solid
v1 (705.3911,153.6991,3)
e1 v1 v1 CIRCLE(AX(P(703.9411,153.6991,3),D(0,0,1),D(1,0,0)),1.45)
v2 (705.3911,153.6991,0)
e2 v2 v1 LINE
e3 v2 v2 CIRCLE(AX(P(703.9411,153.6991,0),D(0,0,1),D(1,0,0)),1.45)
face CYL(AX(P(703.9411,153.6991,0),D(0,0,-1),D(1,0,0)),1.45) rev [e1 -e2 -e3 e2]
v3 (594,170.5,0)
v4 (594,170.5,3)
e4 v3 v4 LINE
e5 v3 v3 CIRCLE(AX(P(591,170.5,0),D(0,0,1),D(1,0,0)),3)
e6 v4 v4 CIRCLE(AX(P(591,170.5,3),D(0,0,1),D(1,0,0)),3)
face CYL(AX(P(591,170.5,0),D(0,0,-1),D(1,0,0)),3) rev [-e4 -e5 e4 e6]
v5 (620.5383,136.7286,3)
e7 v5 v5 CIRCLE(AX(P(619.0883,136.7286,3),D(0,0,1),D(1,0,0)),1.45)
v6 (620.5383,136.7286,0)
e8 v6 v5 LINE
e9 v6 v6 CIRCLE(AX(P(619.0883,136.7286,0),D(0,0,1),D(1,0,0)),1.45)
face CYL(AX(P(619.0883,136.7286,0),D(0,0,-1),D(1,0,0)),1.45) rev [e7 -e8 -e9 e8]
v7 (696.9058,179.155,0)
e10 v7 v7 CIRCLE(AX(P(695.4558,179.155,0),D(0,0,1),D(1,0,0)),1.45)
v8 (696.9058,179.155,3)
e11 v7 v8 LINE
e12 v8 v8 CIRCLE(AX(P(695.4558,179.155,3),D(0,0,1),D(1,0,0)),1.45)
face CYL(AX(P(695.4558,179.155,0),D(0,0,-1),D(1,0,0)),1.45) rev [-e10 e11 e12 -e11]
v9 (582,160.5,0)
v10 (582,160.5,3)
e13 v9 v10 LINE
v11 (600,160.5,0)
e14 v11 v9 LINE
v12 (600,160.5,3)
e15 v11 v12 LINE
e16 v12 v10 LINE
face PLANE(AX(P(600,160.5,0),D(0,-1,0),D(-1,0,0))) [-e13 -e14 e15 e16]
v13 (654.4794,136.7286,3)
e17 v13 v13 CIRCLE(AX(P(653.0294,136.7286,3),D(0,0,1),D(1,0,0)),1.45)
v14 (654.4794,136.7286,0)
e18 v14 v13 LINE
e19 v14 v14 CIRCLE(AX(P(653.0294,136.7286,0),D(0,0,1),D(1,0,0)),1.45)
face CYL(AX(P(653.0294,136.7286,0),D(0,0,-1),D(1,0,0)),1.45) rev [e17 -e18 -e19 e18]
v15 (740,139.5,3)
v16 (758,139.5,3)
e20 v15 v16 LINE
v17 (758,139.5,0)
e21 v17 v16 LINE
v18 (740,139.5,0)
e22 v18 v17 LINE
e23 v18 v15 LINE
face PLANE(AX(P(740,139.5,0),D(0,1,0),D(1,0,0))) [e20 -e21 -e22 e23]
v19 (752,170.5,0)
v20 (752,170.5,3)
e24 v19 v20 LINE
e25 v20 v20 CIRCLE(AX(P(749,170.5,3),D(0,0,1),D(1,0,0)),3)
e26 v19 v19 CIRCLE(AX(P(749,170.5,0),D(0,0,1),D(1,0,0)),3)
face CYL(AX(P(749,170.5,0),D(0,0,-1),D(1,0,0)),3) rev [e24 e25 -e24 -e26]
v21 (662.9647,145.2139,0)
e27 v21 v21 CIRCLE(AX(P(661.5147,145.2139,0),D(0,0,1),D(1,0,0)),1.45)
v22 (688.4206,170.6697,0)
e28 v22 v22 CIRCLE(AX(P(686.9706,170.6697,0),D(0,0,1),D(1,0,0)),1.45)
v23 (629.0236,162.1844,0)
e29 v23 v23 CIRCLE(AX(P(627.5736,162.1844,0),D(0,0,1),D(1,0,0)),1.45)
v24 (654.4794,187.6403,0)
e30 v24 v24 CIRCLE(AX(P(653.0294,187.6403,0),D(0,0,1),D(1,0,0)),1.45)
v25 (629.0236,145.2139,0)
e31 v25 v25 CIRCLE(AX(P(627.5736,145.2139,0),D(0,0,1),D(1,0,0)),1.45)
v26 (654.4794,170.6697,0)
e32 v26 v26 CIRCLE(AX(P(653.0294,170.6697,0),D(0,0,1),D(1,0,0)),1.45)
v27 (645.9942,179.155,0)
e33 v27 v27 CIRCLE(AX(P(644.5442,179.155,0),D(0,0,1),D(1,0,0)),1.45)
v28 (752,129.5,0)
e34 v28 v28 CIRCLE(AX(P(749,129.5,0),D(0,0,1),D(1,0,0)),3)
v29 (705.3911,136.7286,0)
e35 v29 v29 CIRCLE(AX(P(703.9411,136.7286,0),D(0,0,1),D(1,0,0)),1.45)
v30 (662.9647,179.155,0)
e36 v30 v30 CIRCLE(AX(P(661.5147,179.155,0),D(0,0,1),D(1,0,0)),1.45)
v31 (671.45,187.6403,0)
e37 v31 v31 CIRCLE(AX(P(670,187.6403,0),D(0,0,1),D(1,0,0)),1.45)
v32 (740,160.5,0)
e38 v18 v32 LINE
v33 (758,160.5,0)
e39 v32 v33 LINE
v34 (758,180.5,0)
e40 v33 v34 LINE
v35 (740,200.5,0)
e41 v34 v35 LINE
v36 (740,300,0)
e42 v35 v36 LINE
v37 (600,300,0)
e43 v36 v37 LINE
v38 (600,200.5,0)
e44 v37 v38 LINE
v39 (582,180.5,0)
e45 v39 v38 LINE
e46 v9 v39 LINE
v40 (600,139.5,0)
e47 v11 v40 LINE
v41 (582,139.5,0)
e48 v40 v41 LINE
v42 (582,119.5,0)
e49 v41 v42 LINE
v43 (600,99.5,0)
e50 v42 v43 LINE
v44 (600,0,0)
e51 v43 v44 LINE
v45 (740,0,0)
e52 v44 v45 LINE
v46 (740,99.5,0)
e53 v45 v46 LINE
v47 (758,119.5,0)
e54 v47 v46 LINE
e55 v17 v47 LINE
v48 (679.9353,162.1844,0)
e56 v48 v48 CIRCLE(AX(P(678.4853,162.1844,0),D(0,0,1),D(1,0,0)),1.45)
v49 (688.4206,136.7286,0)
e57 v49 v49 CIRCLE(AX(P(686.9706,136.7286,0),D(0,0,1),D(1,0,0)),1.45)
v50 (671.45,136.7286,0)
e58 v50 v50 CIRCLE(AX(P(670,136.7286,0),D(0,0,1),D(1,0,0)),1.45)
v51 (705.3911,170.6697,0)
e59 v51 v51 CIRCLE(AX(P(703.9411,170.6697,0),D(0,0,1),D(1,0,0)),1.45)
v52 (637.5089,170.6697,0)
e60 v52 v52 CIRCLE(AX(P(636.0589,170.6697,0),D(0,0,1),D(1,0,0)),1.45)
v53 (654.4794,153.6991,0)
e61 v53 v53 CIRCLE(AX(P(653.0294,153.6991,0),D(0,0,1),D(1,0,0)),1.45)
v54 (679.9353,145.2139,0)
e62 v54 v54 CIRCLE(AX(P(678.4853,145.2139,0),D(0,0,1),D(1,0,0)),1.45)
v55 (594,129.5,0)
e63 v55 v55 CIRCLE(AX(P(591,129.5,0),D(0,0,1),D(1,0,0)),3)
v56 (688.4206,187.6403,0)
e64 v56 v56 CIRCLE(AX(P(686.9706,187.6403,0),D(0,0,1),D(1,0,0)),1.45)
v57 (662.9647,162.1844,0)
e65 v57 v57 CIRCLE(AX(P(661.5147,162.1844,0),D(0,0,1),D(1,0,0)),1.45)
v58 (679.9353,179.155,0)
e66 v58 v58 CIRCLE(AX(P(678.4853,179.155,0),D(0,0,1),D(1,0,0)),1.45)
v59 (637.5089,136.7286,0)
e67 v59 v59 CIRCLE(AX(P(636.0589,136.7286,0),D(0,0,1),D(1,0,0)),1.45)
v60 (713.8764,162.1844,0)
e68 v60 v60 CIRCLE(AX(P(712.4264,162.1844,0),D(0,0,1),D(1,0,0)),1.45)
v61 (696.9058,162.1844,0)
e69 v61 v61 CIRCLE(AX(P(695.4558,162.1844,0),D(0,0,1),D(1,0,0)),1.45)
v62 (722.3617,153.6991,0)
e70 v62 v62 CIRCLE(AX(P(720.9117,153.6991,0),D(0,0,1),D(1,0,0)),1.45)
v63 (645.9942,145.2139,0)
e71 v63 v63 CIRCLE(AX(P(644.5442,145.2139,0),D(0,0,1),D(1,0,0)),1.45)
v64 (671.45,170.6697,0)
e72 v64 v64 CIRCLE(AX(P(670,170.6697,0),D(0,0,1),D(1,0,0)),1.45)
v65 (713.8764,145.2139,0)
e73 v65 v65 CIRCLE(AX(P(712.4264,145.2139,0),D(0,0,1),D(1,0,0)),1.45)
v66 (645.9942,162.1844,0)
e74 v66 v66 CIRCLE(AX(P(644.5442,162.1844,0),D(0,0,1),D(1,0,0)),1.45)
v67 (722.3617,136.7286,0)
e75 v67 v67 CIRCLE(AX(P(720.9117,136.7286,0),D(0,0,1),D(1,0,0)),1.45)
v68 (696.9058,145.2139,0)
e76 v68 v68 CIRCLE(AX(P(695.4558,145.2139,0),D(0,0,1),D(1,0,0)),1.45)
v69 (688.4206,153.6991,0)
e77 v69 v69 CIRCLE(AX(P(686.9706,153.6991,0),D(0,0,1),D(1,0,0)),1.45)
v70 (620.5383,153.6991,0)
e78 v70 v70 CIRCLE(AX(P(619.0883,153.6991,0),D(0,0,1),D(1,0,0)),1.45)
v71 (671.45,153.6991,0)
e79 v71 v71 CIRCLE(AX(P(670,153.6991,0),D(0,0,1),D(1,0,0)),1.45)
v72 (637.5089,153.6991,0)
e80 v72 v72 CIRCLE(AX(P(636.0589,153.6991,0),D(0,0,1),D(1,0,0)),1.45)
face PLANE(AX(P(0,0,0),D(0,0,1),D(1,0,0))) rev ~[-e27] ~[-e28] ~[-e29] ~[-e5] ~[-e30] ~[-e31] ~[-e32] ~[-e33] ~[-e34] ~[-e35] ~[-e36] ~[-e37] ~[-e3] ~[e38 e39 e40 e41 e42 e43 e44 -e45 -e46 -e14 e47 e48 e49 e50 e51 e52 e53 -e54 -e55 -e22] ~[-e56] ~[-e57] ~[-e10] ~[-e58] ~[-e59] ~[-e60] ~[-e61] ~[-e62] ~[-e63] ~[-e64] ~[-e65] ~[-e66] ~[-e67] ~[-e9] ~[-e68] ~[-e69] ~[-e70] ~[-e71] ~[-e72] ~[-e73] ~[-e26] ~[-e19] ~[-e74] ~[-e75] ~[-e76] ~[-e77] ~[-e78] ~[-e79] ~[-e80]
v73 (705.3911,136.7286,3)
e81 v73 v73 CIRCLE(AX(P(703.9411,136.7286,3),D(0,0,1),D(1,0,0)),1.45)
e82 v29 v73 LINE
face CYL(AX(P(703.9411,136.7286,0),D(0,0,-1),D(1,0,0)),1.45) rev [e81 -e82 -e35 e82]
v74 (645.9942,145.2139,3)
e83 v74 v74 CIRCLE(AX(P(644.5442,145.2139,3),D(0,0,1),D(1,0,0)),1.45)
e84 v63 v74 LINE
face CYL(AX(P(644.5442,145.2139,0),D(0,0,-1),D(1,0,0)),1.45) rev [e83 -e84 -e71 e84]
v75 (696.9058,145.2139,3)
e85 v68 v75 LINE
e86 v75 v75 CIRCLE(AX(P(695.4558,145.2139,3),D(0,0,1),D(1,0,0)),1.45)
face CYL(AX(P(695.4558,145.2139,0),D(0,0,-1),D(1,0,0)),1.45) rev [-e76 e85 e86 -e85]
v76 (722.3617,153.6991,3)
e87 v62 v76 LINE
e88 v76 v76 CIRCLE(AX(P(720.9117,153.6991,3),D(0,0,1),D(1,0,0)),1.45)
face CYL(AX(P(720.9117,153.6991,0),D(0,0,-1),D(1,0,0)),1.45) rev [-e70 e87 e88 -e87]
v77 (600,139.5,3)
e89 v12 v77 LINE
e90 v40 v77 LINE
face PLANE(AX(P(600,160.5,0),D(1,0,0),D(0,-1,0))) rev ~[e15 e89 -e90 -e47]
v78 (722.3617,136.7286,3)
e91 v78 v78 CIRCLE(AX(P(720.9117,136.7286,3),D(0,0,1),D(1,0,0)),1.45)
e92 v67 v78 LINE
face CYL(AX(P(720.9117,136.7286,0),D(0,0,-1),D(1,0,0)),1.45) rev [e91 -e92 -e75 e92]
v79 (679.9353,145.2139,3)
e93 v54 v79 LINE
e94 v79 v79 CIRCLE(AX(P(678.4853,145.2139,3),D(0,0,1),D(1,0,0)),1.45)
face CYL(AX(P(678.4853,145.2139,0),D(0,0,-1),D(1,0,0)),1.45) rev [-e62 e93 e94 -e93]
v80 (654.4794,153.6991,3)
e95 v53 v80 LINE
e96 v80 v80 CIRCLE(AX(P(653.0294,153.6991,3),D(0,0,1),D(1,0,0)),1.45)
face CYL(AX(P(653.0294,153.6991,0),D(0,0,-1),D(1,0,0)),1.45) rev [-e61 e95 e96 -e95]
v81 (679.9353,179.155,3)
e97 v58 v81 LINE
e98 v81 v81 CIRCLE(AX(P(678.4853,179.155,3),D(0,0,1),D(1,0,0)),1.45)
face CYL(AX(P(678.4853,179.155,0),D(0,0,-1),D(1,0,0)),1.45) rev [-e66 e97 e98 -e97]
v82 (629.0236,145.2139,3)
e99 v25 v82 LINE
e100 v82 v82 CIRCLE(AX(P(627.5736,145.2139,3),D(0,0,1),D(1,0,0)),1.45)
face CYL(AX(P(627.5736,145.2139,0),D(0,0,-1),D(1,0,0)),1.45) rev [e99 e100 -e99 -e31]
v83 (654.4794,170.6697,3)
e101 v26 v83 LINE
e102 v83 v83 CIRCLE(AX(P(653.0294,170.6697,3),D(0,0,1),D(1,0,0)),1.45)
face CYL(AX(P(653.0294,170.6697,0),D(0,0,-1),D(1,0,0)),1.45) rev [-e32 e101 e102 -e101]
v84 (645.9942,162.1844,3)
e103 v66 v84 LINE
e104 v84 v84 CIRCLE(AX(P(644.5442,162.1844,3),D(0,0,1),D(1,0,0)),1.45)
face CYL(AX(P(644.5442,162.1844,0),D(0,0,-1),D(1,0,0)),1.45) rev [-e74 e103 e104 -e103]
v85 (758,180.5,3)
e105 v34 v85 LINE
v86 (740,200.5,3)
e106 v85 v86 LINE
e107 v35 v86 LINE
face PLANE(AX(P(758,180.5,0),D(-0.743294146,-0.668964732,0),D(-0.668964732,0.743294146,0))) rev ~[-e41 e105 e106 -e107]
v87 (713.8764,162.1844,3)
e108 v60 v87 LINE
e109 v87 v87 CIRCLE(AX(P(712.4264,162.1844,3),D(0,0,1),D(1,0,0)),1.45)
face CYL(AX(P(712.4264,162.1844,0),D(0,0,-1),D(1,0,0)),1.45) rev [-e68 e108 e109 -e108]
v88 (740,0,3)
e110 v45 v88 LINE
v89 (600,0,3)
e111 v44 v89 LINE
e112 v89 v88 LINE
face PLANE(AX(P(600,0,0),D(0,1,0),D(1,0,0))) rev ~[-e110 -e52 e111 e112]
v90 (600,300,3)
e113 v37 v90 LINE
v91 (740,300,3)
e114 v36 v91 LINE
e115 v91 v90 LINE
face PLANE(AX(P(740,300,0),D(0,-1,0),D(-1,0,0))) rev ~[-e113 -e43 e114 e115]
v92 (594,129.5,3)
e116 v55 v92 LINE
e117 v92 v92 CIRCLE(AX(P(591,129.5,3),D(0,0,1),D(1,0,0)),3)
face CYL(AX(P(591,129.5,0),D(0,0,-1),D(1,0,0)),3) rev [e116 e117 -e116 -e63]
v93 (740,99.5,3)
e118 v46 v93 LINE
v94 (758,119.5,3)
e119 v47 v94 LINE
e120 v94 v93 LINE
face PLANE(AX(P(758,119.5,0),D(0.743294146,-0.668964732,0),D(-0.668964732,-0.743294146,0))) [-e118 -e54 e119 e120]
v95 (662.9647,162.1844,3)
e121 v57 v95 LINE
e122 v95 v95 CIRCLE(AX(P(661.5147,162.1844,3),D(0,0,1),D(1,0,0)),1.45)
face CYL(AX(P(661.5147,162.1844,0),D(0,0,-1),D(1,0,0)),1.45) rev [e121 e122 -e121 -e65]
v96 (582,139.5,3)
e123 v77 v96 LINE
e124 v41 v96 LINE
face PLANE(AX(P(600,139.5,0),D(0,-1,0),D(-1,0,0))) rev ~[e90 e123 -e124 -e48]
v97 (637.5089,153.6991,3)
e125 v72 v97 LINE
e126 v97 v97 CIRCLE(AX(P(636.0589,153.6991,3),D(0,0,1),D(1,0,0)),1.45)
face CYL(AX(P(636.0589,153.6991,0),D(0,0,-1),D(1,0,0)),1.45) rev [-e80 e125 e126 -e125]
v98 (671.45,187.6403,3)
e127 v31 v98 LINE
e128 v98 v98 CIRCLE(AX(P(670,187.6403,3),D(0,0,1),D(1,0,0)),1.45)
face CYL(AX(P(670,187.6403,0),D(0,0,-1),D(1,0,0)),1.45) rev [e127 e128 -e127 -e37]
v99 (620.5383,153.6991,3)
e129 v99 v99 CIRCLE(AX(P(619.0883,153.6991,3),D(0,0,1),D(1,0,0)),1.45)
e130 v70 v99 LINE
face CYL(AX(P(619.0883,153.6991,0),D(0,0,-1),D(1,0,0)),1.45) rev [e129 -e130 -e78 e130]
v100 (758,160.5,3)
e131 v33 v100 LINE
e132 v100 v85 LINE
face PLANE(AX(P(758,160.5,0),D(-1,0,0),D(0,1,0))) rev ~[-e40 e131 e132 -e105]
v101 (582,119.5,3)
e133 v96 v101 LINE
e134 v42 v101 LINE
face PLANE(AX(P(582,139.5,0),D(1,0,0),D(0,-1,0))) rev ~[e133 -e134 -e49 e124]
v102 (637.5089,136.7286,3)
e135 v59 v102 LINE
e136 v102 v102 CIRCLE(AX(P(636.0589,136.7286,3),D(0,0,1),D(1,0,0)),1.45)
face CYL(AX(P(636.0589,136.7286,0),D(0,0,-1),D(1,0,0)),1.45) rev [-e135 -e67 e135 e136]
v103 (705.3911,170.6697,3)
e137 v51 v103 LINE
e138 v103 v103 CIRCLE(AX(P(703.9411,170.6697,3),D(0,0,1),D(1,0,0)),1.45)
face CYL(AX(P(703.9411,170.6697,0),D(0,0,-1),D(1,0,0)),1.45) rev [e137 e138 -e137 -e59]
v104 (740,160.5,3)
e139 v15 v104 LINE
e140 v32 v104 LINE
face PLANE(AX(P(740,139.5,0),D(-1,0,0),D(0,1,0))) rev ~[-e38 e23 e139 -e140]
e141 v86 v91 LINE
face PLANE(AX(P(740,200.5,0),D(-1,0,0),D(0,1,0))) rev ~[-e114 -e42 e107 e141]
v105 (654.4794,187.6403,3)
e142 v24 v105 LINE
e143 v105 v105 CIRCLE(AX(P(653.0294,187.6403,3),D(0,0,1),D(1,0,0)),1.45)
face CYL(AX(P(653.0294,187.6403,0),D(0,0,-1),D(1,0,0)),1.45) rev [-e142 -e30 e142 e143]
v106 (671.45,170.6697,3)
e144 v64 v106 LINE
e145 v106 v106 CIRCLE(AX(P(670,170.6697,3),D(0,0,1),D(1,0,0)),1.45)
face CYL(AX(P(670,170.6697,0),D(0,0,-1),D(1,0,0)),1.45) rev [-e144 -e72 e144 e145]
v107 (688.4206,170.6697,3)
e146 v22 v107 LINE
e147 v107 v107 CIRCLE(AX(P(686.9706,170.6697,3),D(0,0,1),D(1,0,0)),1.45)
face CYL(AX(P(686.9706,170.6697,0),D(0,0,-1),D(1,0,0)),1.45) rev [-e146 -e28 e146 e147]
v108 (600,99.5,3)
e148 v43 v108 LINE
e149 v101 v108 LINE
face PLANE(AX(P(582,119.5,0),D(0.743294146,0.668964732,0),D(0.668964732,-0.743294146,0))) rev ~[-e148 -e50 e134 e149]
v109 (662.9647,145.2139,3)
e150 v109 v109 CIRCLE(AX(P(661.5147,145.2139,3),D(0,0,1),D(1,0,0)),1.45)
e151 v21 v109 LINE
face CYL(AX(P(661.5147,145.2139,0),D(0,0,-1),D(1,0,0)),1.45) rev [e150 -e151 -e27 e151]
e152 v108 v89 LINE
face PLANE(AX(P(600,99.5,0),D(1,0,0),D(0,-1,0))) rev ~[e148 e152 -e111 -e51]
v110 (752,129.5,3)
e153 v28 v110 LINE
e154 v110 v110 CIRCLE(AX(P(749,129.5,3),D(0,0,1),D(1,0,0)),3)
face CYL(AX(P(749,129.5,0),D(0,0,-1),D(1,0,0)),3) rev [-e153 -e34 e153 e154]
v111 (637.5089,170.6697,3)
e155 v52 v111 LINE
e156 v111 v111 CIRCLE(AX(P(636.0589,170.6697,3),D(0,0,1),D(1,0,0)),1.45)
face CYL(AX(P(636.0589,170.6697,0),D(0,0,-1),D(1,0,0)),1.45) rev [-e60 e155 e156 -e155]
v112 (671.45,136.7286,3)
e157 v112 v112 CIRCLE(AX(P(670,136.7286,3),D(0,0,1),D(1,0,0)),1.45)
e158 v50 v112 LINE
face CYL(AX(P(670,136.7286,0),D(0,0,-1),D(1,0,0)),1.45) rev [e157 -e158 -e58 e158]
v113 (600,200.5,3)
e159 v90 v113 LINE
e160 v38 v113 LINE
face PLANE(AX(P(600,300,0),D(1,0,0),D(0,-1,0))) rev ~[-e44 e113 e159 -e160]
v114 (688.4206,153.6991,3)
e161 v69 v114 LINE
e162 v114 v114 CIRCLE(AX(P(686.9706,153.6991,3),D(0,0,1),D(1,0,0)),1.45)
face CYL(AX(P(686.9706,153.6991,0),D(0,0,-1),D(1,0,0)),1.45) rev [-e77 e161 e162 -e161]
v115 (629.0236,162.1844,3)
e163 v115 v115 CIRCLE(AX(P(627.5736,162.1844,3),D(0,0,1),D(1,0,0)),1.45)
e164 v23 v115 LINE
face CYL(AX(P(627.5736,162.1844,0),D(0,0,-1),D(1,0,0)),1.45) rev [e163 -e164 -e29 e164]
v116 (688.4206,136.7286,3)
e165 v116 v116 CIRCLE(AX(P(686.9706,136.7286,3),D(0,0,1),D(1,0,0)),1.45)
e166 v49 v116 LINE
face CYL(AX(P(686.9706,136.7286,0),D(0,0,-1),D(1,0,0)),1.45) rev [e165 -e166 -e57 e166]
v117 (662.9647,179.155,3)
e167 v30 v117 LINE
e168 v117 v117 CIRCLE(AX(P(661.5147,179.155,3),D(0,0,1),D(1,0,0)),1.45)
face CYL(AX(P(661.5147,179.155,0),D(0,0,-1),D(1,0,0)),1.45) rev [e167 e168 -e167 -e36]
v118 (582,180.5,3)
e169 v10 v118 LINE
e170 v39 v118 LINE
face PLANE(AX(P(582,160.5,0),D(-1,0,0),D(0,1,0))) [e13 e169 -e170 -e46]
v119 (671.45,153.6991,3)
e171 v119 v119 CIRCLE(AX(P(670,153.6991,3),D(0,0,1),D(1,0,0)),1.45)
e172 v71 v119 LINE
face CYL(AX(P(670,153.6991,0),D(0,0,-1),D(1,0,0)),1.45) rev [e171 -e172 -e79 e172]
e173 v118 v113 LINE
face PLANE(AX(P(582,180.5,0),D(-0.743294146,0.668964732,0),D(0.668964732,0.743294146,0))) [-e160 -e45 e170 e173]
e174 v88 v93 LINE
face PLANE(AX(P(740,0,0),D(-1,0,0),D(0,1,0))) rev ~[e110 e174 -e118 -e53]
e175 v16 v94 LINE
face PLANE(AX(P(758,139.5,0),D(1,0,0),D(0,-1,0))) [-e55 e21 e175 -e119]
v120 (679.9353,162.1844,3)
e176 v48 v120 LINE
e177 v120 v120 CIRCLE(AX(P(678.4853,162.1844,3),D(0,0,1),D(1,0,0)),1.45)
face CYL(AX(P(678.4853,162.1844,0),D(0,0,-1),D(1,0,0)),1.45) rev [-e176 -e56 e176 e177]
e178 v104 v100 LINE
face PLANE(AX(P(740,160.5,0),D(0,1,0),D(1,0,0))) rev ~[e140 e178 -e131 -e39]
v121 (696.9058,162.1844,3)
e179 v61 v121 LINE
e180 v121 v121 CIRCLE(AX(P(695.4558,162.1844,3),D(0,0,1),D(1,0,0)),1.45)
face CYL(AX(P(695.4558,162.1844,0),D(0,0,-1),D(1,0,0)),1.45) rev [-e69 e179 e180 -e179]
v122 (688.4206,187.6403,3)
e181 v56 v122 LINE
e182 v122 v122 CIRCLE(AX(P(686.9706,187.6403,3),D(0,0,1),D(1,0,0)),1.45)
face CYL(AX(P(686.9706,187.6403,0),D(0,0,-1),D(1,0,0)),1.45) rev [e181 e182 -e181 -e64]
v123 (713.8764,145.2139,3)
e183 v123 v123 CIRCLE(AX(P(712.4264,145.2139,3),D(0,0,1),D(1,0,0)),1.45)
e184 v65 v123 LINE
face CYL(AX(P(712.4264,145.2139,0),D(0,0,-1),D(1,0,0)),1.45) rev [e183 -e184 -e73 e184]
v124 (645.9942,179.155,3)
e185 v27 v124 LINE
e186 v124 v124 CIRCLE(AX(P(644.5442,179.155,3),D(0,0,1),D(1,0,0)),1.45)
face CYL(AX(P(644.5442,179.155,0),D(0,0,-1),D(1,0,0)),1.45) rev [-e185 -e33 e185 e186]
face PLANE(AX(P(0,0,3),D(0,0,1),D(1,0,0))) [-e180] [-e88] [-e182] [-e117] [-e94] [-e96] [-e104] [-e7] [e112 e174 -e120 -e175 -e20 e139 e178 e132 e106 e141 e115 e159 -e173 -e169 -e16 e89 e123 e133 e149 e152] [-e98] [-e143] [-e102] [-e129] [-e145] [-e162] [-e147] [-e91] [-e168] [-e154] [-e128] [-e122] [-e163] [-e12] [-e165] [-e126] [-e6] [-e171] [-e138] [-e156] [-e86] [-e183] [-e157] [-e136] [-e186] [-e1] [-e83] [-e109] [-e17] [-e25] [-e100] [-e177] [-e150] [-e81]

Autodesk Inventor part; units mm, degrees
ref_plane "YZ Plane" through (0, 0, 0) normal (1, 0, 0) x (0, 1, 0)
ref_plane "XZ Plane" through (0, 0, 0) normal (0, 1, 0) x (-1, 0, 0)
ref_plane "XY Plane" through (0, 0, 0) normal (0, 0, 1) x (1, 0, 0)
sketch "Sketch1" plane through (0, 0, 0) normal (0, 0, 1) x (1, 0, 0)
  line L0 (0, 0) -> (140, 0)
  line L1 (140, 0) -> (140, 300)
  line L2 (140, 300) -> (0, 300)
  line L3 (0, 300) -> (0, 0)
  line L4 (10, 290) -> (130, 290)
  line L5 (130, 290) -> (130, 10) construction
  line L6 (130, 10) -> (10, 10) construction
  line L7 (10, 10) -> (10, 290) construction
  line L8 (55.013, 210.0189) -> (44.1329, 210.0189) construction
  line L9 (10, 290) -> (130, 290) construction
  line L10 (70, 311.1686) -> (70, 319.6965) construction
  line L11 (64.8975, 210.0189) -> (64.8975, 204.1374) construction
  line L12 (75.1025, 210.0189) -> (75.1025, 204.1374) construction
  spline S0 degree 4 poles (64.8975, 210.0189) (64.8975, 218.5538) (47.6053, 225.9043) (40.8111, 229.8746) (18.3339, 245.7556) (11.7937, 258.2232) (10, 279.3922) (10, 290) knots 0 0 0 0 0 0.284812 0.471394 0.66948 1 1 1 1 1
  line L13 (10, 290) -> (10, 266.9306) construction
  spline S1 degree 4 poles (75.1025, 210.0189) (75.1025, 218.5538) (92.3947, 225.9043) (99.1889, 229.8746) (121.6661, 245.7556) (128.2063, 258.2232) (130, 279.3922) (130, 290) knots 0 0 0 0 0 0.284812 0.471394 0.66948 1 1 1 1 1
  spline S2 degree 4 poles (64.8975, 210.0189) (64.8975, 201.4839) (47.6053, 194.1334) (40.8111, 190.1632) (18.3339, 174.2821) (11.7937, 161.8145) (10, 140.6455) (10, 130.0377) knots 0 0 0 0 0 0.284812 0.471394 0.66948 1 1 1 1 1
  spline S3 degree 4 poles (75.1025, 210.0189) (75.1025, 201.4839) (92.3947, 194.1334) (99.1889, 190.1632) (121.6661, 174.2821) (128.2063, 161.8145) (130, 140.6455) (130, 130.0377) knots 0 0 0 0 0 0.284812 0.471394 0.66948 1 1 1 1 1
  line L14 (10, 130.0377) -> (10, 10)
  line L15 (130, 130.0377) -> (130, 10)
  line L16 (10, 10) -> (130, 10)
  line L17 (240, 186.8124) -> (240, 163.5372) construction
  line L18 (480, 0) -> (340, 0) construction
  line L19 (340, 0) -> (340, 300) construction
  line L20 (340, 300) -> (480, 300) construction
  line L21 (480, 300) -> (480, 0) construction
  line L22 (470, 290) -> (350, 290) construction
  line L23 (350, 290) -> (350, 10) construction
  line L24 (350, 10) -> (470, 10) construction
  line L25 (470, 10) -> (470, 290) construction
  line L26 (424.987, 210.0189) -> (435.8671, 210.0189) construction
  line L27 (470, 290) -> (350, 290) construction
  line L28 (410, 311.1686) -> (410, 319.6965) construction
  line L29 (415.1025, 210.0189) -> (415.1025, 204.1374) construction
  line L30 (404.8975, 210.0189) -> (404.8975, 204.1374) construction
  spline S4 degree 4 poles (415.1025, 210.0189) (415.1025, 218.5538) (432.3947, 225.9043) (439.1889, 229.8746) (461.6661, 245.7556) (468.2063, 258.2232) (470, 279.3922) (470, 290) knots 0 0 0 0 0 0.284812 0.471394 0.66948 1 1 1 1 1 construction
  line L31 (470, 290) -> (470, 266.9306) construction
  spline S5 degree 4 poles (404.8975, 210.0189) (394.814, 224.8509) (381.6315, 227.4313) (352.9317, 245.1456) (350.4567, 267.2032) (350, 290) knots 0 0 0 0 0 0.471394 1 1 1 1 1 construction
  spline S6 degree 4 poles (415.1025, 210.0189) (425.186, 195.1868) (438.3685, 192.6065) (467.0683, 174.8921) (469.5433, 152.8345) (470, 130.0377) knots 0 0 0 0 0 0.471394 1 1 1 1 1 construction
  spline S7 degree 4 poles (404.8975, 210.0189) (394.814, 195.1868) (381.6315, 192.6065) (352.9317, 174.8921) (350.4567, 152.8345) (350, 130.0377) knots 0 0 0 0 0 0.471394 1 1 1 1 1 construction
  line L32 (355, 14.5) -> (355, 130.0377)
  line L33 (355, 130.0377) -> (357, 130.0377)
  line L34 (357, 130.0377) -> (357, 14.5)
  arc A0 (353.5, 13) -> (355, 14.5) centre (353.5, 14.5) ccw
  arc A1 (351, 14.5) -> (352.5, 13) centre (352.5, 14.5) ccw construction
  line L35 (352.5, 13) -> (353.5, 13)
  arc A2 (357, 14.5) -> (358.5, 13) centre (358.5, 14.5) ccw
  line L36 (358.5, 13) -> (359.5, 13)
  line L37 (361, 14.5) -> (361, 130.0377)
  line L38 (363, 130.0377) -> (363, 14.5)
  arc A3 (359.5, 13) -> (361, 14.5) centre (359.5, 14.5) ccw
  line L39 (361, 130.0377) -> (363, 130.0377)
  arc A4 (363, 14.5) -> (364.5, 13) centre (364.5, 14.5) ccw
  line L40 (364.5, 13) -> (365.5, 13)
  line L41 (367, 14.5) -> (367, 130.0377)
  line L42 (369, 130.0377) -> (369, 14.5)
  arc A5 (365.5, 13) -> (367, 14.5) centre (365.5, 14.5) ccw
  line L43 (367, 130.0377) -> (369, 130.0377)
  arc A6 (369, 14.5) -> (370.5, 13) centre (370.5, 14.5) ccw
  line L44 (370.5, 13) -> (371.5, 13)
  line L45 (373, 14.5) -> (373, 130.0377)
  line L46 (375, 130.0377) -> (375, 14.5)
  arc A7 (371.5, 13) -> (373, 14.5) centre (371.5, 14.5) ccw
  line L47 (373, 130.0377) -> (375, 130.0377)
  arc A8 (375, 14.5) -> (376.5, 13) centre (376.5, 14.5) ccw
  line L48 (376.5, 13) -> (377.5, 13)
  line L49 (379, 14.5) -> (379, 130.0377)
  line L50 (381, 130.0377) -> (381, 14.5)
  arc A9 (377.5, 13) -> (379, 14.5) centre (377.5, 14.5) ccw
  line L51 (379, 130.0377) -> (381, 130.0377)
  arc A10 (381, 14.5) -> (382.5, 13) centre (382.5, 14.5) ccw
  line L52 (382.5, 13) -> (383.5, 13)
  line L53 (385, 14.5) -> (385, 130.0377)
  line L54 (387, 130.0377) -> (387, 14.5)
  arc A11 (383.5, 13) -> (385, 14.5) centre (383.5, 14.5) ccw
  line L55 (385, 130.0377) -> (387, 130.0377)
  arc A12 (387, 14.5) -> (388.5, 13) centre (388.5, 14.5) ccw
  line L56 (388.5, 13) -> (389.5, 13)
  line L57 (391, 14.5) -> (391, 130.0377)
  line L58 (393, 130.0377) -> (393, 14.5)
  arc A13 (389.5, 13) -> (391, 14.5) centre (389.5, 14.5) ccw
  line L59 (391, 130.0377) -> (393, 130.0377)
  arc A14 (393, 14.5) -> (394.5, 13) centre (394.5, 14.5) ccw
  line L60 (394.5, 13) -> (395.5, 13)
  line L61 (397, 14.5) -> (397, 130.0377)
  line L62 (399, 130.0377) -> (399, 14.5)
  arc A15 (395.5, 13) -> (397, 14.5) centre (395.5, 14.5) ccw
  line L63 (397, 130.0377) -> (399, 130.0377)
  arc A16 (399, 14.5) -> (400.5, 13) centre (400.5, 14.5) ccw
  line L64 (400.5, 13) -> (401.5, 13)
  line L65 (403, 14.5) -> (403, 130.0377)
  line L66 (405, 130.0377) -> (405, 14.5)
  arc A17 (401.5, 13) -> (403, 14.5) centre (401.5, 14.5) ccw
  line L67 (403, 130.0377) -> (405, 130.0377)
  arc A18 (405, 14.5) -> (406.5, 13) centre (406.5, 14.5) ccw
  line L68 (406.5, 13) -> (407.5, 13)
  line L69 (409, 14.5) -> (409, 130.0377)
  line L70 (411, 130.0377) -> (411, 14.5)
  arc A19 (407.5, 13) -> (409, 14.5) centre (407.5, 14.5) ccw
  line L71 (409, 130.0377) -> (411, 130.0377)
  arc A20 (411, 14.5) -> (412.5, 13) centre (412.5, 14.5) ccw
  line L72 (412.5, 13) -> (413.5, 13)
  line L73 (415, 14.5) -> (415, 130.0377)
  line L74 (417, 130.0377) -> (417, 14.5)
  arc A21 (413.5, 13) -> (415, 14.5) centre (413.5, 14.5) ccw
  line L75 (415, 130.0377) -> (417, 130.0377)
  arc A22 (417, 14.5) -> (418.5, 13) centre (418.5, 14.5) ccw
  line L76 (418.5, 13) -> (419.5, 13)
  line L77 (421, 14.5) -> (421, 130.0377)
  line L78 (423, 130.0377) -> (423, 14.5)
  arc A23 (419.5, 13) -> (421, 14.5) centre (419.5, 14.5) ccw
  line L79 (421, 130.0377) -> (423, 130.0377)
  arc A24 (423, 14.5) -> (424.5, 13) centre (424.5, 14.5) ccw
  line L80 (424.5, 13) -> (425.5, 13)
  line L81 (427, 14.5) -> (427, 130.0377)
  line L82 (429, 130.0377) -> (429, 14.5)
  arc A25 (425.5, 13) -> (427, 14.5) centre (425.5, 14.5) ccw
  line L83 (427, 130.0377) -> (429, 130.0377)
  arc A26 (429, 14.5) -> (430.5, 13) centre (430.5, 14.5) ccw
  line L84 (430.5, 13) -> (431.5, 13)
  line L85 (433, 14.5) -> (433, 130.0377)
  line L86 (435, 130.0377) -> (435, 14.5)
  arc A27 (431.5, 13) -> (433, 14.5) centre (431.5, 14.5) ccw
  line L87 (433, 130.0377) -> (435, 130.0377)
  arc A28 (435, 14.5) -> (436.5, 13) centre (436.5, 14.5) ccw
  line L88 (436.5, 13) -> (437.5, 13)
  line L89 (439, 14.5) -> (439, 130.0377)
  line L90 (441, 130.0377) -> (441, 14.5)
  arc A29 (437.5, 13) -> (439, 14.5) centre (437.5, 14.5) ccw
  line L91 (439, 130.0377) -> (441, 130.0377)
  arc A30 (441, 14.5) -> (442.5, 13) centre (442.5, 14.5) ccw
  line L92 (442.5, 13) -> (443.5, 13)
  line L93 (445, 14.5) -> (445, 130.0377)
  line L94 (447, 130.0377) -> (447, 14.5)
  arc A31 (443.5, 13) -> (445, 14.5) centre (443.5, 14.5) ccw
  line L95 (445, 130.0377) -> (447, 130.0377)
  arc A32 (447, 14.5) -> (448.5, 13) centre (448.5, 14.5) ccw
  line L96 (448.5, 13) -> (449.5, 13)
  line L97 (451, 14.5) -> (451, 130.0377)
  line L98 (453, 130.0377) -> (453, 14.5)
  arc A33 (449.5, 13) -> (451, 14.5) centre (449.5, 14.5) ccw
  line L99 (451, 130.0377) -> (453, 130.0377)
  arc A34 (453, 14.5) -> (454.5, 13) centre (454.5, 14.5) ccw
  line L100 (454.5, 13) -> (455.5, 13)
  line L101 (457, 14.5) -> (457, 130.0377)
  line L102 (459, 130.0377) -> (459, 14.5)
  arc A35 (455.5, 13) -> (457, 14.5) centre (455.5, 14.5) ccw
  line L103 (457, 130.0377) -> (459, 130.0377)
  arc A36 (459, 14.5) -> (460.5, 13) centre (460.5, 14.5) ccw
  line L104 (460.5, 13) -> (461.5, 13)
  line L105 (463, 14.5) -> (463, 130.0377)
  line L106 (465, 130.0377) -> (465, 14.5)
  arc A37 (461.5, 13) -> (463, 14.5) centre (461.5, 14.5) ccw
  line L107 (463, 130.0377) -> (465, 130.0377)
  arc A38 (465, 14.5) -> (466.5, 13) centre (466.5, 14.5) ccw
  line L108 (466.5, 13) -> (470, 13)
  line L109 (470, 10) -> (470, 13)
  line L110 (470, 10) -> (350, 10)
  line L111 (350, 10) -> (350, 13)
  line L112 (352.5, 13) -> (350, 13)
  line L113 (740, 300) -> (600, 300)
  line L114 (610, 290) -> (730, 290) construction
  line L115 (610, 290) -> (730, 290) construction
  spline S8 degree 4 poles (675.1025, 210.0189) (675.1025, 218.5538) (692.3947, 225.9043) (699.1889, 229.8746) (721.6661, 245.7556) (728.2063, 258.2232) (730, 279.3922) (730, 290) knots 0 0 0 0 0 0.284812 0.471394 0.66948 1 1 1 1 1 construction
  line L116 (664.8975, 210.0189) -> (664.8975, 204.1374) construction
  line L117 (610, 290) -> (610, 266.9306) construction
  spline S9 degree 4 poles (664.8975, 210.0189) (664.8975, 218.5538) (647.6053, 225.9043) (640.8111, 229.8746) (618.3339, 245.7556) (611.7937, 258.2232) (610, 279.3922) (610, 290) knots 0 0 0 0 0 0.284812 0.471394 0.66948 1 1 1 1 1 construction
  line L118 (675.1025, 210.0189) -> (675.1025, 204.1374) construction
  spline S10 degree 4 poles (675.1025, 210.0189) (675.1025, 201.4839) (692.3947, 194.1334) (699.1889, 190.1632) (721.6661, 174.2821) (728.2063, 161.8145) (730, 140.6455) (730, 130.0377) knots 0 0 0 0 0 0.284812 0.471394 0.66948 1 1 1 1 1 construction
  spline S11 degree 4 poles (664.8975, 210.0189) (664.8975, 201.4839) (647.6053, 194.1334) (640.8111, 190.1632) (618.3339, 174.2821) (611.7937, 161.8145) (610, 140.6455) (610, 130.0377) knots 0 0 0 0 0 0.284812 0.471394 0.66948 1 1 1 1 1 construction
  line L119 (730, 290) -> (730, 10) construction
  line L120 (610, 10) -> (610, 290) construction
  line L121 (740, 0) -> (740, 300)
  line L122 (600, 300) -> (600, 0)
  line L123 (610, 130.0377) -> (610, 10) construction
  line L124 (730, 10) -> (610, 10) construction
  line L125 (610, 10) -> (730, 10) construction
  line L126 (730, 130.0377) -> (730, 10) construction
  line L127 (600, 0) -> (740, 0)
  circle A39 centre (670, 187.6403) radius 1.45
  line L128 (661.5147, 179.155) -> (670, 187.6403) construction
  line L129 (670, 187.6403) -> (661.5147, 179.155) construction
  line L130 (661.5147, 179.155) -> (678.4853, 179.155) construction
  line L131 (130, 290) -> (130, 293.3347) construction
  line L132 (730, 290) -> (730, 294.5645) construction
  line L133 (670, 187.6403) -> (667.2579, 190.3824) construction
  line L134 (661.5147, 179.155) -> (658.7726, 181.8971) construction
  circle A40 centre (661.5147, 179.155) radius 1.45
  circle A41 centre (653.0294, 170.6697) radius 1.45
  circle A42 centre (644.5442, 162.1844) radius 1.45
  circle A43 centre (636.0589, 153.6991) radius 1.45
  circle A44 centre (627.5736, 145.2139) radius 1.45
  circle A45 centre (619.0883, 136.7286) radius 1.45
  circle A46 centre (619.0883, 153.6991) radius 1.45
  circle A47 centre (627.5736, 162.1844) radius 1.45
  circle A48 centre (636.0589, 170.6697) radius 1.45
  circle A49 centre (644.5442, 179.155) radius 1.45
  circle A50 centre (653.0294, 187.6403) radius 1.45
  circle A51 centre (686.9706, 187.6403) radius 1.45
  circle A52 centre (678.4853, 179.155) radius 1.45
  circle A53 centre (670, 170.6697) radius 1.45
  circle A54 centre (661.5147, 162.1844) radius 1.45
  circle A55 centre (653.0294, 153.6991) radius 1.45
  circle A56 centre (644.5442, 145.2139) radius 1.45
  circle A57 centre (636.0589, 136.7286) radius 1.45
  circle A58 centre (695.4558, 179.155) radius 1.45
  circle A59 centre (686.9706, 170.6697) radius 1.45
  circle A60 centre (670, 170.6697) radius 1.45
  circle A61 centre (661.5147, 162.1844) radius 1.45
  circle A62 centre (678.4853, 162.1844) radius 1.45
  circle A63 centre (653.0294, 153.6991) radius 1.45
  circle A64 centre (670, 153.6991) radius 1.45
  circle A65 centre (661.5147, 145.2139) radius 1.45
  circle A66 centre (644.5442, 145.2139) radius 1.45
  circle A67 centre (636.0589, 136.7286) radius 1.45
  circle A68 centre (653.0294, 136.7286) radius 1.45
  circle A69 centre (695.4558, 162.1844) radius 1.45
  circle A70 centre (686.9706, 153.6991) radius 1.45
  circle A71 centre (678.4853, 145.2139) radius 1.45
  circle A72 centre (670, 136.7286) radius 1.45
  circle A73 centre (712.4264, 162.1844) radius 1.45
  circle A74 centre (703.9411, 153.6991) radius 1.45
  circle A75 centre (695.4558, 145.2139) radius 1.45
  circle A76 centre (686.9706, 136.7286) radius 1.45
  circle A77 centre (703.9411, 170.6697) radius 1.45
  circle A78 centre (720.9117, 153.6991) radius 1.45
  circle A79 centre (712.4264, 145.2139) radius 1.45
  circle A80 centre (703.9411, 136.7286) radius 1.45
  circle A81 centre (720.9117, 136.7286) radius 1.45
  line L135 (0, 160.5) -> (-18, 160.5)
  line L136 (-18, 160.5) -> (-18, 180.5)
  line L137 (-18, 180.5) -> (0, 180.5) construction
  line L138 (0, 180.5) -> (0, 160.5)
  line L139 (-24.3067, 150) -> (-34.4998, 150) construction
  circle A82 centre (-9, 170.5) radius 3
  line L140 (-18, 180.5) -> (0, 200.5)
  line L141 (0, 139.5) -> (-18, 139.5)
  line L142 (-18, 139.5) -> (-18, 119.5)
  circle A83 centre (-9, 129.5) radius 3
  line L143 (-18, 119.5) -> (0, 99.5)
  line L144 (140, 160.5) -> (158, 160.5)
  line L145 (158, 160.5) -> (158, 180.5)
  circle A84 centre (149, 170.5) radius 3
  line L146 (158, 180.5) -> (140, 200.5)
  line L147 (158, 139.5) -> (158, 119.5)
  line L148 (140, 139.5) -> (158, 139.5)
  circle A85 centre (149, 129.5) radius 3
  line L149 (158, 119.5) -> (140, 99.5)
  line L150 (582, 180.5) -> (600, 200.5)
  line L151 (582, 160.5) -> (582, 180.5)
  circle A86 centre (591, 170.5) radius 3
  line L152 (600, 139.5) -> (582, 139.5)
  circle A87 centre (591, 129.5) radius 3
  line L153 (582, 139.5) -> (582, 119.5)
  line L154 (582, 119.5) -> (600, 99.5)
  line L155 (758, 180.5) -> (740, 200.5)
  line L156 (758, 160.5) -> (758, 180.5)
  circle A88 centre (749, 170.5) radius 3
  line L157 (740, 160.5) -> (758, 160.5)
  line L158 (740, 139.5) -> (758, 139.5)
  circle A89 centre (749, 129.5) radius 3
  line L159 (758, 139.5) -> (758, 119.5)
  line L160 (758, 119.5) -> (740, 99.5)
  line L161 (600, 160.5) -> (582, 160.5)
  line L162 (600, 200.5) -> (600, 300)
  line L163 (600, 300) -> (740, 300)
  line L164 (740, 300) -> (740, 200.5)
  line L165 (740, 160.5) -> (740, 139.5)
  line L166 (740, 99.5) -> (740, 0)
  line L167 (740, 0) -> (600, 0)
  line L168 (600, 0) -> (600, 99.5)
  line L169 (600, 139.5) -> (600, 160.5)
  line L170 (780, 153.6991) -> (780, 161.6118) construction
  line L171 (820, 300) -> (960, 300)
  line L172 (960, 0) -> (820, 0)
  line L173 (978, 180.5) -> (960, 200.5)
  line L174 (978, 160.5) -> (978, 180.5)
  circle A90 centre (969, 170.5) radius 3
  line L175 (960, 139.5) -> (978, 139.5)
  circle A91 centre (969, 129.5) radius 3
  line L176 (978, 139.5) -> (978, 119.5)
  line L177 (978, 119.5) -> (960, 99.5)
  line L178 (802, 180.5) -> (820, 200.5)
  line L179 (802, 160.5) -> (802, 180.5)
  circle A92 centre (811, 170.5) radius 3
  line L180 (820, 160.5) -> (802, 160.5)
  line L181 (820, 139.5) -> (802, 139.5)
  circle A93 centre (811, 129.5) radius 3
  line L182 (802, 139.5) -> (802, 119.5)
  line L183 (802, 119.5) -> (820, 99.5)
  line L184 (960, 160.5) -> (978, 160.5)
  line L185 (960, 200.5) -> (960, 300)
  line L186 (960, 300) -> (820, 300)
  line L187 (820, 300) -> (820, 200.5)
  line L188 (820, 160.5) -> (820, 139.5)
  line L189 (820, 99.5) -> (820, 0)
  line L190 (820, 0) -> (960, 0)
  line L191 (960, 0) -> (960, 99.5)
  line L192 (960, 139.5) -> (960, 160.5)
  line L193 (582, -180.5) -> (582, -200.5) construction
  circle A94 centre (591, -190.5) radius 3 construction
  line L194 (600, -159.5) -> (582, -159.5) construction
  line L195 (600, -180.5) -> (582, -180.5) construction
  line L196 (582, -200.5) -> (600, -220.5) construction
  line L197 (582, -139.5) -> (600, -119.5) construction
  line L198 (582, -159.5) -> (582, -139.5) construction
  circle A95 centre (591, -149.5) radius 3 construction
  circle A96 centre (619.0883, -166.3009) radius 1.45 construction
  circle A97 centre (627.5736, -174.7861) radius 1.45 construction
  circle A98 centre (644.5442, -157.8156) radius 1.45 construction
  circle A99 centre (627.5736, -157.8156) radius 1.45 construction
  circle A100 centre (644.5442, -174.7861) radius 1.45 construction
  circle A101 centre (636.0589, -183.2714) radius 1.45 construction
  line L199 (600, -180.5) -> (600, -159.5) construction
  circle A102 centre (636.0589, -183.2714) radius 1.45 construction
  circle A103 centre (644.5442, -174.7861) radius 1.45 construction
  circle A104 centre (619.0883, -183.2714) radius 1.45 construction
  circle A105 centre (636.0589, -166.3009) radius 1.45 construction
  circle A106 centre (653.0294, -183.2714) radius 1.45 construction
  circle A107 centre (661.5147, -174.7861) radius 1.45 construction
  line L200 (664.8975, -109.9811) -> (664.8975, -115.8626) construction
  line L201 (610, -30) -> (610, -53.0694) construction
  spline S12 degree 4 poles (664.8975, -109.9811) (664.8975, -118.5161) (647.6053, -125.8666) (640.8111, -129.8368) (618.3339, -145.7179) (611.7937, -158.1855) (610, -179.3545) (610, -189.9623) knots 0 0 0 0 0 0.284812 0.471394 0.66948 1 1 1 1 1 construction
  circle A108 centre (670, -149.3303) radius 1.45 construction
  circle A109 centre (678.4853, -140.845) radius 1.45 construction
  circle A110 centre (686.9706, -166.3009) radius 1.45 construction
  circle A111 centre (670, -166.3009) radius 1.45 construction
  circle A112 centre (653.0294, -166.3009) radius 1.45 construction
  circle A113 centre (653.0294, -166.3009) radius 1.45 construction
  spline S13 degree 4 poles (664.8975, -109.9811) (664.8975, -101.4462) (647.6053, -94.0957) (640.8111, -90.1254) (618.3339, -74.2444) (611.7937, -61.7768) (610, -40.6078) (610, -30) knots 0 0 0 0 0 0.284812 0.471394 0.66948 1 1 1 1 1 construction
  circle A114 centre (670, -132.3597) radius 1.45 construction
  circle A115 centre (636.0589, -149.3303) radius 1.45 construction
  circle A116 centre (653.0294, -149.3303) radius 1.45 construction
  circle A117 centre (644.5442, -140.845) radius 1.45 construction
  circle A118 centre (653.0294, -132.3597) radius 1.45 construction
  line L202 (661.5147, -140.845) -> (658.7726, -138.1029) construction
  line L203 (661.5147, -140.845) -> (670, -132.3597) construction
  line L204 (670, -132.3597) -> (661.5147, -140.845) construction
  line L205 (670, -132.3597) -> (667.2579, -129.6176) construction
  line L206 (661.5147, -140.845) -> (678.4853, -140.845) construction
  circle A119 centre (686.9706, -132.3597) radius 1.45 construction
  line L207 (600, -119.5) -> (600, -20) construction
  line L208 (600, -20) -> (740, -20) construction
  line L209 (730, -30) -> (730, -25.4355) construction
  line L210 (740, -20) -> (740, -119.5) construction
  circle A120 centre (661.5147, -140.845) radius 1.45 construction
  line L211 (610, -189.9623) -> (610, -310) construction
  line L212 (600, -320) -> (600, -220.5) construction
  line L213 (730, -310) -> (610, -310) construction
  line L214 (610, -310) -> (730, -310) construction
  line L215 (600, -320) -> (740, -320) construction
  line L216 (740, -320) -> (600, -320) construction
  line L217 (730, -189.9623) -> (730, -310) construction
  line L218 (740, -220.5) -> (740, -320) construction
  line L219 (740, -20) -> (600, -20) construction
  line L220 (675.1025, -109.9811) -> (675.1025, -115.8626) construction
  line L221 (610, -30) -> (730, -30) construction
  line L222 (610, -30) -> (730, -30) construction
  spline S14 degree 4 poles (675.1025, -109.9811) (675.1025, -101.4462) (692.3947, -94.0957) (699.1889, -90.1254) (721.6661, -74.2444) (728.2063, -61.7768) (730, -40.6078) (730, -30) knots 0 0 0 0 0 0.284812 0.471394 0.66948 1 1 1 1 1 construction
  line L223 (610, -310) -> (610, -30) construction
  line L224 (600, -20) -> (600, -320) construction
  line L225 (740, -320) -> (740, -20) construction
  line L226 (730, -30) -> (730, -310) construction
  circle A121 centre (678.4853, -174.7861) radius 1.45 construction
  circle A122 centre (670, -183.2714) radius 1.45 construction
  spline S15 degree 4 poles (675.1025, -109.9811) (675.1025, -118.5161) (692.3947, -125.8666) (699.1889, -129.8368) (721.6661, -145.7179) (728.2063, -158.1855) (730, -179.3545) (730, -189.9623) knots 0 0 0 0 0 0.284812 0.471394 0.66948 1 1 1 1 1 construction
  circle A123 centre (686.9706, -183.2714) radius 1.45 construction
  circle A124 centre (670, -149.3303) radius 1.45 construction
  circle A125 centre (661.5147, -157.8156) radius 1.45 construction
  circle A126 centre (695.4558, -140.845) radius 1.45 construction
  circle A127 centre (686.9706, -149.3303) radius 1.45 construction
  circle A128 centre (678.4853, -157.8156) radius 1.45 construction
  circle A129 centre (703.9411, -149.3303) radius 1.45 construction
  line L227 (758, -139.5) -> (740, -119.5) construction
  circle A130 centre (749, -149.5) radius 3 construction
  line L228 (758, -159.5) -> (758, -139.5) construction
  circle A131 centre (661.5147, -157.8156) radius 1.45 construction
  circle A132 centre (703.9411, -183.2714) radius 1.45 construction
  circle A133 centre (712.4264, -174.7861) radius 1.45 construction
  circle A134 centre (720.9117, -183.2714) radius 1.45 construction
  circle A135 centre (695.4558, -174.7861) radius 1.45 construction
  line L229 (740, -159.5) -> (740, -180.5) construction
  line L230 (758, -200.5) -> (740, -220.5) construction
  circle A136 centre (749, -190.5) radius 3 construction
  line L231 (758, -180.5) -> (758, -200.5) construction
  line L232 (740, -180.5) -> (758, -180.5) construction
  line L233 (740, -159.5) -> (758, -159.5) construction
  circle A137 centre (720.9117, -166.3009) radius 1.45 construction
  circle A138 centre (703.9411, -166.3009) radius 1.45 construction
  circle A139 centre (695.4558, -157.8156) radius 1.45 construction
  circle A140 centre (712.4264, -157.8156) radius 1.45 construction
  line L234 (600, -122.3597) -> (740, -122.3597)
  line L235 (740, -122.3597) -> (740, -193.2714)
  line L236 (740, -193.2714) -> (600, -193.2714)
  line L237 (600, -193.2714) -> (600, -122.3597)
  point P0 (70, 290)
  point P1 (70, 300)
  point P2 (10, 150)
  point P3 (0, 150)
  point P4 (70, 290)
  point P5 (70, 315.4325)
  point P6 (49.5729, 210.0189)
  point P7 (49.5729, 225.4245)
  point P8 (37.5413, 232.3974)
  point P9 (24.0774, 242.8841)
  point P10 (14.2457, 257.8533)
  point P11 (90.4271, 225.4245)
  point P12 (102.4587, 232.3974)
  point P13 (115.9226, 242.8841)
  point P14 (125.7543, 257.8533)
  point P15 (49.5729, 194.6132)
  point P16 (37.5413, 187.6403)
  point P17 (24.0774, 177.1536)
  point P18 (14.2457, 162.1844)
  point P19 (90.4271, 194.6132)
  point P20 (102.4587, 187.6403)
  point P21 (115.9226, 177.1536)
  point P22 (125.7543, 162.1844)
  point P23 (410, 290)
  point P24 (410, 300)
  point P25 (470, 150)
  point P26 (480, 150)
  point P27 (410, 290)
  point P28 (410, 315.4325)
  point P29 (430.4271, 210.0189)
  point P30 (430.4271, 225.4245)
  point P31 (442.4587, 232.3974)
  point P32 (455.9226, 242.8841)
  point P33 (465.7543, 257.8533)
  point P34 (389.5729, 225.4245)
  point P35 (377.5413, 232.3974)
  point P36 (364.0774, 242.8841)
  point P37 (354.2457, 257.8533)
  point P38 (430.4271, 194.6132)
  point P39 (442.4587, 187.6403)
  point P40 (455.9226, 177.1536)
  point P41 (465.7543, 162.1844)
  point P42 (389.5729, 194.6132)
  point P43 (377.5413, 187.6403)
  point P44 (364.0774, 177.1536)
  point P45 (354.2457, 162.1844)
  point P46 (356, 130.0377)
  point P47 (362, 130.0377)
  point P48 (368, 130.0377)
  point P49 (374, 130.0377)
  point P50 (380, 130.0377)
  point P51 (386, 130.0377)
  point P52 (392, 130.0377)
  point P53 (398, 130.0377)
  point P54 (404, 130.0377)
  point P55 (410, 130.0377)
  point P56 (416, 130.0377)
  point P57 (422, 130.0377)
  point P58 (428, 130.0377)
  point P59 (434, 130.0377)
  point P60 (440, 130.0377)
  point P61 (446, 130.0377)
  point P62 (452, 130.0377)
  point P63 (458, 130.0377)
  point P64 (464, 130.0377)
  point P65 (410, 130.0377)
  point P66 (410, 315.4325)
  point P67 (670, 300)
  point P68 (670, 290)
  point P69 (670, 290)
  point P70 (690.4271, 225.4245)
  point P71 (702.4587, 232.3974)
  point P72 (715.9226, 242.8841)
  point P73 (725.7543, 257.8533)
  point P74 (649.5729, 225.4245)
  point P75 (637.5413, 232.3974)
  point P76 (624.0774, 242.8841)
  point P77 (614.2457, 257.8533)
  point P78 (690.4271, 194.6132)
  point P79 (649.5729, 194.6132)
  point P80 (702.4587, 187.6403)
  point P81 (637.5413, 187.6403)
  point P82 (715.9226, 177.1536)
  point P83 (624.0774, 177.1536)
  point P84 (614.2457, 162.1844)
  point P85 (725.7543, 162.1844)
  point P86 (610, 150)
  point P87 (600, 150)
  point P88 (670, 179.155)
  point P89 (670, 300)
  point P90 (-29.4032, 150)
  point P91 (-18, 170.5)
  point P92 (-9, 180.5)
  point P93 (582, 170.5)
  point P94 (890, 300)
  point P95 (960, 150)
  point P96 (890, 300)
  point P97 (978, 170.5)
  point P98 (582, -149.5)
  point P99 (600, -170)
  point P100 (670, -30)
  point P101 (670, -30)
  point P102 (670, -20)
  point P103 (637.5413, -132.3597)
  point P104 (624.0774, -142.8464)
  point P105 (614.2457, -157.8156)
  point P106 (649.5729, -125.3868)
  point P107 (610, -170)
  point P108 (670, -140.845)
  point P109 (649.5729, -94.5755)
  point P110 (637.5413, -87.6026)
  point P111 (624.0774, -77.1159)
  point P112 (614.2457, -62.1467)
  point P113 (670, -20)
  point P114 (690.4271, -94.5755)
  point P115 (702.4587, -87.6026)
  point P116 (725.7543, -62.1467)
  point P117 (702.4587, -132.3597)
  point P118 (715.9226, -77.1159)
  point P119 (690.4271, -125.3868)
  point P120 (715.9226, -142.8464)
  point P121 (725.7543, -157.8156)
  dimension "d0" = 140
  dimension "d1" = 300
  dimension "d2" = 10
  dimension "d3" = 10
  dimension "d5" = 100
  dimension "d6" = 2
  dimension "d9" = 79.9811
  dimension "d12" = 1.5
  dimension "d13" = 1.5
  dimension "d15" = 4
  dimension "d18" = 6
  dimension "d23" = 3
  dimension "d26" = 600
  dimension "d33" = 2.9
  dimension "d34" = 45
  dimension "d35" = 12
  dimension "d38" = 12
  dimension "d45" = 16.9706
  dimension "d52" = 16.9706
  dimension "d59" = 16.9706
  dimension "d66" = 16.9706
  dimension "d73" = 16.9706
  dimension "d80" = 16.9706
  dimension "d85" = 18
  dimension "d86" = 20
  dimension "d87" = 10.5
  dimension "d88" = 6
  dimension "d89" = 20
  dimension "d92" = 600
  dimension "d97" = 10.2051
  dimension "d98" = 40
  dimension "d101" = 320
  dimension "d106" = 10
  dimension "d107" = 10
extrude "Extrusion1" add sketch "Sketch1" along normal blind 3 contours L121 L127 L122 L113 | L155 L156 L157 L121 | L122 L161 L151 L150 | L158 L159 L160 L121 | L122 L154 L153 L152
properties part number "SGB-4-back"
